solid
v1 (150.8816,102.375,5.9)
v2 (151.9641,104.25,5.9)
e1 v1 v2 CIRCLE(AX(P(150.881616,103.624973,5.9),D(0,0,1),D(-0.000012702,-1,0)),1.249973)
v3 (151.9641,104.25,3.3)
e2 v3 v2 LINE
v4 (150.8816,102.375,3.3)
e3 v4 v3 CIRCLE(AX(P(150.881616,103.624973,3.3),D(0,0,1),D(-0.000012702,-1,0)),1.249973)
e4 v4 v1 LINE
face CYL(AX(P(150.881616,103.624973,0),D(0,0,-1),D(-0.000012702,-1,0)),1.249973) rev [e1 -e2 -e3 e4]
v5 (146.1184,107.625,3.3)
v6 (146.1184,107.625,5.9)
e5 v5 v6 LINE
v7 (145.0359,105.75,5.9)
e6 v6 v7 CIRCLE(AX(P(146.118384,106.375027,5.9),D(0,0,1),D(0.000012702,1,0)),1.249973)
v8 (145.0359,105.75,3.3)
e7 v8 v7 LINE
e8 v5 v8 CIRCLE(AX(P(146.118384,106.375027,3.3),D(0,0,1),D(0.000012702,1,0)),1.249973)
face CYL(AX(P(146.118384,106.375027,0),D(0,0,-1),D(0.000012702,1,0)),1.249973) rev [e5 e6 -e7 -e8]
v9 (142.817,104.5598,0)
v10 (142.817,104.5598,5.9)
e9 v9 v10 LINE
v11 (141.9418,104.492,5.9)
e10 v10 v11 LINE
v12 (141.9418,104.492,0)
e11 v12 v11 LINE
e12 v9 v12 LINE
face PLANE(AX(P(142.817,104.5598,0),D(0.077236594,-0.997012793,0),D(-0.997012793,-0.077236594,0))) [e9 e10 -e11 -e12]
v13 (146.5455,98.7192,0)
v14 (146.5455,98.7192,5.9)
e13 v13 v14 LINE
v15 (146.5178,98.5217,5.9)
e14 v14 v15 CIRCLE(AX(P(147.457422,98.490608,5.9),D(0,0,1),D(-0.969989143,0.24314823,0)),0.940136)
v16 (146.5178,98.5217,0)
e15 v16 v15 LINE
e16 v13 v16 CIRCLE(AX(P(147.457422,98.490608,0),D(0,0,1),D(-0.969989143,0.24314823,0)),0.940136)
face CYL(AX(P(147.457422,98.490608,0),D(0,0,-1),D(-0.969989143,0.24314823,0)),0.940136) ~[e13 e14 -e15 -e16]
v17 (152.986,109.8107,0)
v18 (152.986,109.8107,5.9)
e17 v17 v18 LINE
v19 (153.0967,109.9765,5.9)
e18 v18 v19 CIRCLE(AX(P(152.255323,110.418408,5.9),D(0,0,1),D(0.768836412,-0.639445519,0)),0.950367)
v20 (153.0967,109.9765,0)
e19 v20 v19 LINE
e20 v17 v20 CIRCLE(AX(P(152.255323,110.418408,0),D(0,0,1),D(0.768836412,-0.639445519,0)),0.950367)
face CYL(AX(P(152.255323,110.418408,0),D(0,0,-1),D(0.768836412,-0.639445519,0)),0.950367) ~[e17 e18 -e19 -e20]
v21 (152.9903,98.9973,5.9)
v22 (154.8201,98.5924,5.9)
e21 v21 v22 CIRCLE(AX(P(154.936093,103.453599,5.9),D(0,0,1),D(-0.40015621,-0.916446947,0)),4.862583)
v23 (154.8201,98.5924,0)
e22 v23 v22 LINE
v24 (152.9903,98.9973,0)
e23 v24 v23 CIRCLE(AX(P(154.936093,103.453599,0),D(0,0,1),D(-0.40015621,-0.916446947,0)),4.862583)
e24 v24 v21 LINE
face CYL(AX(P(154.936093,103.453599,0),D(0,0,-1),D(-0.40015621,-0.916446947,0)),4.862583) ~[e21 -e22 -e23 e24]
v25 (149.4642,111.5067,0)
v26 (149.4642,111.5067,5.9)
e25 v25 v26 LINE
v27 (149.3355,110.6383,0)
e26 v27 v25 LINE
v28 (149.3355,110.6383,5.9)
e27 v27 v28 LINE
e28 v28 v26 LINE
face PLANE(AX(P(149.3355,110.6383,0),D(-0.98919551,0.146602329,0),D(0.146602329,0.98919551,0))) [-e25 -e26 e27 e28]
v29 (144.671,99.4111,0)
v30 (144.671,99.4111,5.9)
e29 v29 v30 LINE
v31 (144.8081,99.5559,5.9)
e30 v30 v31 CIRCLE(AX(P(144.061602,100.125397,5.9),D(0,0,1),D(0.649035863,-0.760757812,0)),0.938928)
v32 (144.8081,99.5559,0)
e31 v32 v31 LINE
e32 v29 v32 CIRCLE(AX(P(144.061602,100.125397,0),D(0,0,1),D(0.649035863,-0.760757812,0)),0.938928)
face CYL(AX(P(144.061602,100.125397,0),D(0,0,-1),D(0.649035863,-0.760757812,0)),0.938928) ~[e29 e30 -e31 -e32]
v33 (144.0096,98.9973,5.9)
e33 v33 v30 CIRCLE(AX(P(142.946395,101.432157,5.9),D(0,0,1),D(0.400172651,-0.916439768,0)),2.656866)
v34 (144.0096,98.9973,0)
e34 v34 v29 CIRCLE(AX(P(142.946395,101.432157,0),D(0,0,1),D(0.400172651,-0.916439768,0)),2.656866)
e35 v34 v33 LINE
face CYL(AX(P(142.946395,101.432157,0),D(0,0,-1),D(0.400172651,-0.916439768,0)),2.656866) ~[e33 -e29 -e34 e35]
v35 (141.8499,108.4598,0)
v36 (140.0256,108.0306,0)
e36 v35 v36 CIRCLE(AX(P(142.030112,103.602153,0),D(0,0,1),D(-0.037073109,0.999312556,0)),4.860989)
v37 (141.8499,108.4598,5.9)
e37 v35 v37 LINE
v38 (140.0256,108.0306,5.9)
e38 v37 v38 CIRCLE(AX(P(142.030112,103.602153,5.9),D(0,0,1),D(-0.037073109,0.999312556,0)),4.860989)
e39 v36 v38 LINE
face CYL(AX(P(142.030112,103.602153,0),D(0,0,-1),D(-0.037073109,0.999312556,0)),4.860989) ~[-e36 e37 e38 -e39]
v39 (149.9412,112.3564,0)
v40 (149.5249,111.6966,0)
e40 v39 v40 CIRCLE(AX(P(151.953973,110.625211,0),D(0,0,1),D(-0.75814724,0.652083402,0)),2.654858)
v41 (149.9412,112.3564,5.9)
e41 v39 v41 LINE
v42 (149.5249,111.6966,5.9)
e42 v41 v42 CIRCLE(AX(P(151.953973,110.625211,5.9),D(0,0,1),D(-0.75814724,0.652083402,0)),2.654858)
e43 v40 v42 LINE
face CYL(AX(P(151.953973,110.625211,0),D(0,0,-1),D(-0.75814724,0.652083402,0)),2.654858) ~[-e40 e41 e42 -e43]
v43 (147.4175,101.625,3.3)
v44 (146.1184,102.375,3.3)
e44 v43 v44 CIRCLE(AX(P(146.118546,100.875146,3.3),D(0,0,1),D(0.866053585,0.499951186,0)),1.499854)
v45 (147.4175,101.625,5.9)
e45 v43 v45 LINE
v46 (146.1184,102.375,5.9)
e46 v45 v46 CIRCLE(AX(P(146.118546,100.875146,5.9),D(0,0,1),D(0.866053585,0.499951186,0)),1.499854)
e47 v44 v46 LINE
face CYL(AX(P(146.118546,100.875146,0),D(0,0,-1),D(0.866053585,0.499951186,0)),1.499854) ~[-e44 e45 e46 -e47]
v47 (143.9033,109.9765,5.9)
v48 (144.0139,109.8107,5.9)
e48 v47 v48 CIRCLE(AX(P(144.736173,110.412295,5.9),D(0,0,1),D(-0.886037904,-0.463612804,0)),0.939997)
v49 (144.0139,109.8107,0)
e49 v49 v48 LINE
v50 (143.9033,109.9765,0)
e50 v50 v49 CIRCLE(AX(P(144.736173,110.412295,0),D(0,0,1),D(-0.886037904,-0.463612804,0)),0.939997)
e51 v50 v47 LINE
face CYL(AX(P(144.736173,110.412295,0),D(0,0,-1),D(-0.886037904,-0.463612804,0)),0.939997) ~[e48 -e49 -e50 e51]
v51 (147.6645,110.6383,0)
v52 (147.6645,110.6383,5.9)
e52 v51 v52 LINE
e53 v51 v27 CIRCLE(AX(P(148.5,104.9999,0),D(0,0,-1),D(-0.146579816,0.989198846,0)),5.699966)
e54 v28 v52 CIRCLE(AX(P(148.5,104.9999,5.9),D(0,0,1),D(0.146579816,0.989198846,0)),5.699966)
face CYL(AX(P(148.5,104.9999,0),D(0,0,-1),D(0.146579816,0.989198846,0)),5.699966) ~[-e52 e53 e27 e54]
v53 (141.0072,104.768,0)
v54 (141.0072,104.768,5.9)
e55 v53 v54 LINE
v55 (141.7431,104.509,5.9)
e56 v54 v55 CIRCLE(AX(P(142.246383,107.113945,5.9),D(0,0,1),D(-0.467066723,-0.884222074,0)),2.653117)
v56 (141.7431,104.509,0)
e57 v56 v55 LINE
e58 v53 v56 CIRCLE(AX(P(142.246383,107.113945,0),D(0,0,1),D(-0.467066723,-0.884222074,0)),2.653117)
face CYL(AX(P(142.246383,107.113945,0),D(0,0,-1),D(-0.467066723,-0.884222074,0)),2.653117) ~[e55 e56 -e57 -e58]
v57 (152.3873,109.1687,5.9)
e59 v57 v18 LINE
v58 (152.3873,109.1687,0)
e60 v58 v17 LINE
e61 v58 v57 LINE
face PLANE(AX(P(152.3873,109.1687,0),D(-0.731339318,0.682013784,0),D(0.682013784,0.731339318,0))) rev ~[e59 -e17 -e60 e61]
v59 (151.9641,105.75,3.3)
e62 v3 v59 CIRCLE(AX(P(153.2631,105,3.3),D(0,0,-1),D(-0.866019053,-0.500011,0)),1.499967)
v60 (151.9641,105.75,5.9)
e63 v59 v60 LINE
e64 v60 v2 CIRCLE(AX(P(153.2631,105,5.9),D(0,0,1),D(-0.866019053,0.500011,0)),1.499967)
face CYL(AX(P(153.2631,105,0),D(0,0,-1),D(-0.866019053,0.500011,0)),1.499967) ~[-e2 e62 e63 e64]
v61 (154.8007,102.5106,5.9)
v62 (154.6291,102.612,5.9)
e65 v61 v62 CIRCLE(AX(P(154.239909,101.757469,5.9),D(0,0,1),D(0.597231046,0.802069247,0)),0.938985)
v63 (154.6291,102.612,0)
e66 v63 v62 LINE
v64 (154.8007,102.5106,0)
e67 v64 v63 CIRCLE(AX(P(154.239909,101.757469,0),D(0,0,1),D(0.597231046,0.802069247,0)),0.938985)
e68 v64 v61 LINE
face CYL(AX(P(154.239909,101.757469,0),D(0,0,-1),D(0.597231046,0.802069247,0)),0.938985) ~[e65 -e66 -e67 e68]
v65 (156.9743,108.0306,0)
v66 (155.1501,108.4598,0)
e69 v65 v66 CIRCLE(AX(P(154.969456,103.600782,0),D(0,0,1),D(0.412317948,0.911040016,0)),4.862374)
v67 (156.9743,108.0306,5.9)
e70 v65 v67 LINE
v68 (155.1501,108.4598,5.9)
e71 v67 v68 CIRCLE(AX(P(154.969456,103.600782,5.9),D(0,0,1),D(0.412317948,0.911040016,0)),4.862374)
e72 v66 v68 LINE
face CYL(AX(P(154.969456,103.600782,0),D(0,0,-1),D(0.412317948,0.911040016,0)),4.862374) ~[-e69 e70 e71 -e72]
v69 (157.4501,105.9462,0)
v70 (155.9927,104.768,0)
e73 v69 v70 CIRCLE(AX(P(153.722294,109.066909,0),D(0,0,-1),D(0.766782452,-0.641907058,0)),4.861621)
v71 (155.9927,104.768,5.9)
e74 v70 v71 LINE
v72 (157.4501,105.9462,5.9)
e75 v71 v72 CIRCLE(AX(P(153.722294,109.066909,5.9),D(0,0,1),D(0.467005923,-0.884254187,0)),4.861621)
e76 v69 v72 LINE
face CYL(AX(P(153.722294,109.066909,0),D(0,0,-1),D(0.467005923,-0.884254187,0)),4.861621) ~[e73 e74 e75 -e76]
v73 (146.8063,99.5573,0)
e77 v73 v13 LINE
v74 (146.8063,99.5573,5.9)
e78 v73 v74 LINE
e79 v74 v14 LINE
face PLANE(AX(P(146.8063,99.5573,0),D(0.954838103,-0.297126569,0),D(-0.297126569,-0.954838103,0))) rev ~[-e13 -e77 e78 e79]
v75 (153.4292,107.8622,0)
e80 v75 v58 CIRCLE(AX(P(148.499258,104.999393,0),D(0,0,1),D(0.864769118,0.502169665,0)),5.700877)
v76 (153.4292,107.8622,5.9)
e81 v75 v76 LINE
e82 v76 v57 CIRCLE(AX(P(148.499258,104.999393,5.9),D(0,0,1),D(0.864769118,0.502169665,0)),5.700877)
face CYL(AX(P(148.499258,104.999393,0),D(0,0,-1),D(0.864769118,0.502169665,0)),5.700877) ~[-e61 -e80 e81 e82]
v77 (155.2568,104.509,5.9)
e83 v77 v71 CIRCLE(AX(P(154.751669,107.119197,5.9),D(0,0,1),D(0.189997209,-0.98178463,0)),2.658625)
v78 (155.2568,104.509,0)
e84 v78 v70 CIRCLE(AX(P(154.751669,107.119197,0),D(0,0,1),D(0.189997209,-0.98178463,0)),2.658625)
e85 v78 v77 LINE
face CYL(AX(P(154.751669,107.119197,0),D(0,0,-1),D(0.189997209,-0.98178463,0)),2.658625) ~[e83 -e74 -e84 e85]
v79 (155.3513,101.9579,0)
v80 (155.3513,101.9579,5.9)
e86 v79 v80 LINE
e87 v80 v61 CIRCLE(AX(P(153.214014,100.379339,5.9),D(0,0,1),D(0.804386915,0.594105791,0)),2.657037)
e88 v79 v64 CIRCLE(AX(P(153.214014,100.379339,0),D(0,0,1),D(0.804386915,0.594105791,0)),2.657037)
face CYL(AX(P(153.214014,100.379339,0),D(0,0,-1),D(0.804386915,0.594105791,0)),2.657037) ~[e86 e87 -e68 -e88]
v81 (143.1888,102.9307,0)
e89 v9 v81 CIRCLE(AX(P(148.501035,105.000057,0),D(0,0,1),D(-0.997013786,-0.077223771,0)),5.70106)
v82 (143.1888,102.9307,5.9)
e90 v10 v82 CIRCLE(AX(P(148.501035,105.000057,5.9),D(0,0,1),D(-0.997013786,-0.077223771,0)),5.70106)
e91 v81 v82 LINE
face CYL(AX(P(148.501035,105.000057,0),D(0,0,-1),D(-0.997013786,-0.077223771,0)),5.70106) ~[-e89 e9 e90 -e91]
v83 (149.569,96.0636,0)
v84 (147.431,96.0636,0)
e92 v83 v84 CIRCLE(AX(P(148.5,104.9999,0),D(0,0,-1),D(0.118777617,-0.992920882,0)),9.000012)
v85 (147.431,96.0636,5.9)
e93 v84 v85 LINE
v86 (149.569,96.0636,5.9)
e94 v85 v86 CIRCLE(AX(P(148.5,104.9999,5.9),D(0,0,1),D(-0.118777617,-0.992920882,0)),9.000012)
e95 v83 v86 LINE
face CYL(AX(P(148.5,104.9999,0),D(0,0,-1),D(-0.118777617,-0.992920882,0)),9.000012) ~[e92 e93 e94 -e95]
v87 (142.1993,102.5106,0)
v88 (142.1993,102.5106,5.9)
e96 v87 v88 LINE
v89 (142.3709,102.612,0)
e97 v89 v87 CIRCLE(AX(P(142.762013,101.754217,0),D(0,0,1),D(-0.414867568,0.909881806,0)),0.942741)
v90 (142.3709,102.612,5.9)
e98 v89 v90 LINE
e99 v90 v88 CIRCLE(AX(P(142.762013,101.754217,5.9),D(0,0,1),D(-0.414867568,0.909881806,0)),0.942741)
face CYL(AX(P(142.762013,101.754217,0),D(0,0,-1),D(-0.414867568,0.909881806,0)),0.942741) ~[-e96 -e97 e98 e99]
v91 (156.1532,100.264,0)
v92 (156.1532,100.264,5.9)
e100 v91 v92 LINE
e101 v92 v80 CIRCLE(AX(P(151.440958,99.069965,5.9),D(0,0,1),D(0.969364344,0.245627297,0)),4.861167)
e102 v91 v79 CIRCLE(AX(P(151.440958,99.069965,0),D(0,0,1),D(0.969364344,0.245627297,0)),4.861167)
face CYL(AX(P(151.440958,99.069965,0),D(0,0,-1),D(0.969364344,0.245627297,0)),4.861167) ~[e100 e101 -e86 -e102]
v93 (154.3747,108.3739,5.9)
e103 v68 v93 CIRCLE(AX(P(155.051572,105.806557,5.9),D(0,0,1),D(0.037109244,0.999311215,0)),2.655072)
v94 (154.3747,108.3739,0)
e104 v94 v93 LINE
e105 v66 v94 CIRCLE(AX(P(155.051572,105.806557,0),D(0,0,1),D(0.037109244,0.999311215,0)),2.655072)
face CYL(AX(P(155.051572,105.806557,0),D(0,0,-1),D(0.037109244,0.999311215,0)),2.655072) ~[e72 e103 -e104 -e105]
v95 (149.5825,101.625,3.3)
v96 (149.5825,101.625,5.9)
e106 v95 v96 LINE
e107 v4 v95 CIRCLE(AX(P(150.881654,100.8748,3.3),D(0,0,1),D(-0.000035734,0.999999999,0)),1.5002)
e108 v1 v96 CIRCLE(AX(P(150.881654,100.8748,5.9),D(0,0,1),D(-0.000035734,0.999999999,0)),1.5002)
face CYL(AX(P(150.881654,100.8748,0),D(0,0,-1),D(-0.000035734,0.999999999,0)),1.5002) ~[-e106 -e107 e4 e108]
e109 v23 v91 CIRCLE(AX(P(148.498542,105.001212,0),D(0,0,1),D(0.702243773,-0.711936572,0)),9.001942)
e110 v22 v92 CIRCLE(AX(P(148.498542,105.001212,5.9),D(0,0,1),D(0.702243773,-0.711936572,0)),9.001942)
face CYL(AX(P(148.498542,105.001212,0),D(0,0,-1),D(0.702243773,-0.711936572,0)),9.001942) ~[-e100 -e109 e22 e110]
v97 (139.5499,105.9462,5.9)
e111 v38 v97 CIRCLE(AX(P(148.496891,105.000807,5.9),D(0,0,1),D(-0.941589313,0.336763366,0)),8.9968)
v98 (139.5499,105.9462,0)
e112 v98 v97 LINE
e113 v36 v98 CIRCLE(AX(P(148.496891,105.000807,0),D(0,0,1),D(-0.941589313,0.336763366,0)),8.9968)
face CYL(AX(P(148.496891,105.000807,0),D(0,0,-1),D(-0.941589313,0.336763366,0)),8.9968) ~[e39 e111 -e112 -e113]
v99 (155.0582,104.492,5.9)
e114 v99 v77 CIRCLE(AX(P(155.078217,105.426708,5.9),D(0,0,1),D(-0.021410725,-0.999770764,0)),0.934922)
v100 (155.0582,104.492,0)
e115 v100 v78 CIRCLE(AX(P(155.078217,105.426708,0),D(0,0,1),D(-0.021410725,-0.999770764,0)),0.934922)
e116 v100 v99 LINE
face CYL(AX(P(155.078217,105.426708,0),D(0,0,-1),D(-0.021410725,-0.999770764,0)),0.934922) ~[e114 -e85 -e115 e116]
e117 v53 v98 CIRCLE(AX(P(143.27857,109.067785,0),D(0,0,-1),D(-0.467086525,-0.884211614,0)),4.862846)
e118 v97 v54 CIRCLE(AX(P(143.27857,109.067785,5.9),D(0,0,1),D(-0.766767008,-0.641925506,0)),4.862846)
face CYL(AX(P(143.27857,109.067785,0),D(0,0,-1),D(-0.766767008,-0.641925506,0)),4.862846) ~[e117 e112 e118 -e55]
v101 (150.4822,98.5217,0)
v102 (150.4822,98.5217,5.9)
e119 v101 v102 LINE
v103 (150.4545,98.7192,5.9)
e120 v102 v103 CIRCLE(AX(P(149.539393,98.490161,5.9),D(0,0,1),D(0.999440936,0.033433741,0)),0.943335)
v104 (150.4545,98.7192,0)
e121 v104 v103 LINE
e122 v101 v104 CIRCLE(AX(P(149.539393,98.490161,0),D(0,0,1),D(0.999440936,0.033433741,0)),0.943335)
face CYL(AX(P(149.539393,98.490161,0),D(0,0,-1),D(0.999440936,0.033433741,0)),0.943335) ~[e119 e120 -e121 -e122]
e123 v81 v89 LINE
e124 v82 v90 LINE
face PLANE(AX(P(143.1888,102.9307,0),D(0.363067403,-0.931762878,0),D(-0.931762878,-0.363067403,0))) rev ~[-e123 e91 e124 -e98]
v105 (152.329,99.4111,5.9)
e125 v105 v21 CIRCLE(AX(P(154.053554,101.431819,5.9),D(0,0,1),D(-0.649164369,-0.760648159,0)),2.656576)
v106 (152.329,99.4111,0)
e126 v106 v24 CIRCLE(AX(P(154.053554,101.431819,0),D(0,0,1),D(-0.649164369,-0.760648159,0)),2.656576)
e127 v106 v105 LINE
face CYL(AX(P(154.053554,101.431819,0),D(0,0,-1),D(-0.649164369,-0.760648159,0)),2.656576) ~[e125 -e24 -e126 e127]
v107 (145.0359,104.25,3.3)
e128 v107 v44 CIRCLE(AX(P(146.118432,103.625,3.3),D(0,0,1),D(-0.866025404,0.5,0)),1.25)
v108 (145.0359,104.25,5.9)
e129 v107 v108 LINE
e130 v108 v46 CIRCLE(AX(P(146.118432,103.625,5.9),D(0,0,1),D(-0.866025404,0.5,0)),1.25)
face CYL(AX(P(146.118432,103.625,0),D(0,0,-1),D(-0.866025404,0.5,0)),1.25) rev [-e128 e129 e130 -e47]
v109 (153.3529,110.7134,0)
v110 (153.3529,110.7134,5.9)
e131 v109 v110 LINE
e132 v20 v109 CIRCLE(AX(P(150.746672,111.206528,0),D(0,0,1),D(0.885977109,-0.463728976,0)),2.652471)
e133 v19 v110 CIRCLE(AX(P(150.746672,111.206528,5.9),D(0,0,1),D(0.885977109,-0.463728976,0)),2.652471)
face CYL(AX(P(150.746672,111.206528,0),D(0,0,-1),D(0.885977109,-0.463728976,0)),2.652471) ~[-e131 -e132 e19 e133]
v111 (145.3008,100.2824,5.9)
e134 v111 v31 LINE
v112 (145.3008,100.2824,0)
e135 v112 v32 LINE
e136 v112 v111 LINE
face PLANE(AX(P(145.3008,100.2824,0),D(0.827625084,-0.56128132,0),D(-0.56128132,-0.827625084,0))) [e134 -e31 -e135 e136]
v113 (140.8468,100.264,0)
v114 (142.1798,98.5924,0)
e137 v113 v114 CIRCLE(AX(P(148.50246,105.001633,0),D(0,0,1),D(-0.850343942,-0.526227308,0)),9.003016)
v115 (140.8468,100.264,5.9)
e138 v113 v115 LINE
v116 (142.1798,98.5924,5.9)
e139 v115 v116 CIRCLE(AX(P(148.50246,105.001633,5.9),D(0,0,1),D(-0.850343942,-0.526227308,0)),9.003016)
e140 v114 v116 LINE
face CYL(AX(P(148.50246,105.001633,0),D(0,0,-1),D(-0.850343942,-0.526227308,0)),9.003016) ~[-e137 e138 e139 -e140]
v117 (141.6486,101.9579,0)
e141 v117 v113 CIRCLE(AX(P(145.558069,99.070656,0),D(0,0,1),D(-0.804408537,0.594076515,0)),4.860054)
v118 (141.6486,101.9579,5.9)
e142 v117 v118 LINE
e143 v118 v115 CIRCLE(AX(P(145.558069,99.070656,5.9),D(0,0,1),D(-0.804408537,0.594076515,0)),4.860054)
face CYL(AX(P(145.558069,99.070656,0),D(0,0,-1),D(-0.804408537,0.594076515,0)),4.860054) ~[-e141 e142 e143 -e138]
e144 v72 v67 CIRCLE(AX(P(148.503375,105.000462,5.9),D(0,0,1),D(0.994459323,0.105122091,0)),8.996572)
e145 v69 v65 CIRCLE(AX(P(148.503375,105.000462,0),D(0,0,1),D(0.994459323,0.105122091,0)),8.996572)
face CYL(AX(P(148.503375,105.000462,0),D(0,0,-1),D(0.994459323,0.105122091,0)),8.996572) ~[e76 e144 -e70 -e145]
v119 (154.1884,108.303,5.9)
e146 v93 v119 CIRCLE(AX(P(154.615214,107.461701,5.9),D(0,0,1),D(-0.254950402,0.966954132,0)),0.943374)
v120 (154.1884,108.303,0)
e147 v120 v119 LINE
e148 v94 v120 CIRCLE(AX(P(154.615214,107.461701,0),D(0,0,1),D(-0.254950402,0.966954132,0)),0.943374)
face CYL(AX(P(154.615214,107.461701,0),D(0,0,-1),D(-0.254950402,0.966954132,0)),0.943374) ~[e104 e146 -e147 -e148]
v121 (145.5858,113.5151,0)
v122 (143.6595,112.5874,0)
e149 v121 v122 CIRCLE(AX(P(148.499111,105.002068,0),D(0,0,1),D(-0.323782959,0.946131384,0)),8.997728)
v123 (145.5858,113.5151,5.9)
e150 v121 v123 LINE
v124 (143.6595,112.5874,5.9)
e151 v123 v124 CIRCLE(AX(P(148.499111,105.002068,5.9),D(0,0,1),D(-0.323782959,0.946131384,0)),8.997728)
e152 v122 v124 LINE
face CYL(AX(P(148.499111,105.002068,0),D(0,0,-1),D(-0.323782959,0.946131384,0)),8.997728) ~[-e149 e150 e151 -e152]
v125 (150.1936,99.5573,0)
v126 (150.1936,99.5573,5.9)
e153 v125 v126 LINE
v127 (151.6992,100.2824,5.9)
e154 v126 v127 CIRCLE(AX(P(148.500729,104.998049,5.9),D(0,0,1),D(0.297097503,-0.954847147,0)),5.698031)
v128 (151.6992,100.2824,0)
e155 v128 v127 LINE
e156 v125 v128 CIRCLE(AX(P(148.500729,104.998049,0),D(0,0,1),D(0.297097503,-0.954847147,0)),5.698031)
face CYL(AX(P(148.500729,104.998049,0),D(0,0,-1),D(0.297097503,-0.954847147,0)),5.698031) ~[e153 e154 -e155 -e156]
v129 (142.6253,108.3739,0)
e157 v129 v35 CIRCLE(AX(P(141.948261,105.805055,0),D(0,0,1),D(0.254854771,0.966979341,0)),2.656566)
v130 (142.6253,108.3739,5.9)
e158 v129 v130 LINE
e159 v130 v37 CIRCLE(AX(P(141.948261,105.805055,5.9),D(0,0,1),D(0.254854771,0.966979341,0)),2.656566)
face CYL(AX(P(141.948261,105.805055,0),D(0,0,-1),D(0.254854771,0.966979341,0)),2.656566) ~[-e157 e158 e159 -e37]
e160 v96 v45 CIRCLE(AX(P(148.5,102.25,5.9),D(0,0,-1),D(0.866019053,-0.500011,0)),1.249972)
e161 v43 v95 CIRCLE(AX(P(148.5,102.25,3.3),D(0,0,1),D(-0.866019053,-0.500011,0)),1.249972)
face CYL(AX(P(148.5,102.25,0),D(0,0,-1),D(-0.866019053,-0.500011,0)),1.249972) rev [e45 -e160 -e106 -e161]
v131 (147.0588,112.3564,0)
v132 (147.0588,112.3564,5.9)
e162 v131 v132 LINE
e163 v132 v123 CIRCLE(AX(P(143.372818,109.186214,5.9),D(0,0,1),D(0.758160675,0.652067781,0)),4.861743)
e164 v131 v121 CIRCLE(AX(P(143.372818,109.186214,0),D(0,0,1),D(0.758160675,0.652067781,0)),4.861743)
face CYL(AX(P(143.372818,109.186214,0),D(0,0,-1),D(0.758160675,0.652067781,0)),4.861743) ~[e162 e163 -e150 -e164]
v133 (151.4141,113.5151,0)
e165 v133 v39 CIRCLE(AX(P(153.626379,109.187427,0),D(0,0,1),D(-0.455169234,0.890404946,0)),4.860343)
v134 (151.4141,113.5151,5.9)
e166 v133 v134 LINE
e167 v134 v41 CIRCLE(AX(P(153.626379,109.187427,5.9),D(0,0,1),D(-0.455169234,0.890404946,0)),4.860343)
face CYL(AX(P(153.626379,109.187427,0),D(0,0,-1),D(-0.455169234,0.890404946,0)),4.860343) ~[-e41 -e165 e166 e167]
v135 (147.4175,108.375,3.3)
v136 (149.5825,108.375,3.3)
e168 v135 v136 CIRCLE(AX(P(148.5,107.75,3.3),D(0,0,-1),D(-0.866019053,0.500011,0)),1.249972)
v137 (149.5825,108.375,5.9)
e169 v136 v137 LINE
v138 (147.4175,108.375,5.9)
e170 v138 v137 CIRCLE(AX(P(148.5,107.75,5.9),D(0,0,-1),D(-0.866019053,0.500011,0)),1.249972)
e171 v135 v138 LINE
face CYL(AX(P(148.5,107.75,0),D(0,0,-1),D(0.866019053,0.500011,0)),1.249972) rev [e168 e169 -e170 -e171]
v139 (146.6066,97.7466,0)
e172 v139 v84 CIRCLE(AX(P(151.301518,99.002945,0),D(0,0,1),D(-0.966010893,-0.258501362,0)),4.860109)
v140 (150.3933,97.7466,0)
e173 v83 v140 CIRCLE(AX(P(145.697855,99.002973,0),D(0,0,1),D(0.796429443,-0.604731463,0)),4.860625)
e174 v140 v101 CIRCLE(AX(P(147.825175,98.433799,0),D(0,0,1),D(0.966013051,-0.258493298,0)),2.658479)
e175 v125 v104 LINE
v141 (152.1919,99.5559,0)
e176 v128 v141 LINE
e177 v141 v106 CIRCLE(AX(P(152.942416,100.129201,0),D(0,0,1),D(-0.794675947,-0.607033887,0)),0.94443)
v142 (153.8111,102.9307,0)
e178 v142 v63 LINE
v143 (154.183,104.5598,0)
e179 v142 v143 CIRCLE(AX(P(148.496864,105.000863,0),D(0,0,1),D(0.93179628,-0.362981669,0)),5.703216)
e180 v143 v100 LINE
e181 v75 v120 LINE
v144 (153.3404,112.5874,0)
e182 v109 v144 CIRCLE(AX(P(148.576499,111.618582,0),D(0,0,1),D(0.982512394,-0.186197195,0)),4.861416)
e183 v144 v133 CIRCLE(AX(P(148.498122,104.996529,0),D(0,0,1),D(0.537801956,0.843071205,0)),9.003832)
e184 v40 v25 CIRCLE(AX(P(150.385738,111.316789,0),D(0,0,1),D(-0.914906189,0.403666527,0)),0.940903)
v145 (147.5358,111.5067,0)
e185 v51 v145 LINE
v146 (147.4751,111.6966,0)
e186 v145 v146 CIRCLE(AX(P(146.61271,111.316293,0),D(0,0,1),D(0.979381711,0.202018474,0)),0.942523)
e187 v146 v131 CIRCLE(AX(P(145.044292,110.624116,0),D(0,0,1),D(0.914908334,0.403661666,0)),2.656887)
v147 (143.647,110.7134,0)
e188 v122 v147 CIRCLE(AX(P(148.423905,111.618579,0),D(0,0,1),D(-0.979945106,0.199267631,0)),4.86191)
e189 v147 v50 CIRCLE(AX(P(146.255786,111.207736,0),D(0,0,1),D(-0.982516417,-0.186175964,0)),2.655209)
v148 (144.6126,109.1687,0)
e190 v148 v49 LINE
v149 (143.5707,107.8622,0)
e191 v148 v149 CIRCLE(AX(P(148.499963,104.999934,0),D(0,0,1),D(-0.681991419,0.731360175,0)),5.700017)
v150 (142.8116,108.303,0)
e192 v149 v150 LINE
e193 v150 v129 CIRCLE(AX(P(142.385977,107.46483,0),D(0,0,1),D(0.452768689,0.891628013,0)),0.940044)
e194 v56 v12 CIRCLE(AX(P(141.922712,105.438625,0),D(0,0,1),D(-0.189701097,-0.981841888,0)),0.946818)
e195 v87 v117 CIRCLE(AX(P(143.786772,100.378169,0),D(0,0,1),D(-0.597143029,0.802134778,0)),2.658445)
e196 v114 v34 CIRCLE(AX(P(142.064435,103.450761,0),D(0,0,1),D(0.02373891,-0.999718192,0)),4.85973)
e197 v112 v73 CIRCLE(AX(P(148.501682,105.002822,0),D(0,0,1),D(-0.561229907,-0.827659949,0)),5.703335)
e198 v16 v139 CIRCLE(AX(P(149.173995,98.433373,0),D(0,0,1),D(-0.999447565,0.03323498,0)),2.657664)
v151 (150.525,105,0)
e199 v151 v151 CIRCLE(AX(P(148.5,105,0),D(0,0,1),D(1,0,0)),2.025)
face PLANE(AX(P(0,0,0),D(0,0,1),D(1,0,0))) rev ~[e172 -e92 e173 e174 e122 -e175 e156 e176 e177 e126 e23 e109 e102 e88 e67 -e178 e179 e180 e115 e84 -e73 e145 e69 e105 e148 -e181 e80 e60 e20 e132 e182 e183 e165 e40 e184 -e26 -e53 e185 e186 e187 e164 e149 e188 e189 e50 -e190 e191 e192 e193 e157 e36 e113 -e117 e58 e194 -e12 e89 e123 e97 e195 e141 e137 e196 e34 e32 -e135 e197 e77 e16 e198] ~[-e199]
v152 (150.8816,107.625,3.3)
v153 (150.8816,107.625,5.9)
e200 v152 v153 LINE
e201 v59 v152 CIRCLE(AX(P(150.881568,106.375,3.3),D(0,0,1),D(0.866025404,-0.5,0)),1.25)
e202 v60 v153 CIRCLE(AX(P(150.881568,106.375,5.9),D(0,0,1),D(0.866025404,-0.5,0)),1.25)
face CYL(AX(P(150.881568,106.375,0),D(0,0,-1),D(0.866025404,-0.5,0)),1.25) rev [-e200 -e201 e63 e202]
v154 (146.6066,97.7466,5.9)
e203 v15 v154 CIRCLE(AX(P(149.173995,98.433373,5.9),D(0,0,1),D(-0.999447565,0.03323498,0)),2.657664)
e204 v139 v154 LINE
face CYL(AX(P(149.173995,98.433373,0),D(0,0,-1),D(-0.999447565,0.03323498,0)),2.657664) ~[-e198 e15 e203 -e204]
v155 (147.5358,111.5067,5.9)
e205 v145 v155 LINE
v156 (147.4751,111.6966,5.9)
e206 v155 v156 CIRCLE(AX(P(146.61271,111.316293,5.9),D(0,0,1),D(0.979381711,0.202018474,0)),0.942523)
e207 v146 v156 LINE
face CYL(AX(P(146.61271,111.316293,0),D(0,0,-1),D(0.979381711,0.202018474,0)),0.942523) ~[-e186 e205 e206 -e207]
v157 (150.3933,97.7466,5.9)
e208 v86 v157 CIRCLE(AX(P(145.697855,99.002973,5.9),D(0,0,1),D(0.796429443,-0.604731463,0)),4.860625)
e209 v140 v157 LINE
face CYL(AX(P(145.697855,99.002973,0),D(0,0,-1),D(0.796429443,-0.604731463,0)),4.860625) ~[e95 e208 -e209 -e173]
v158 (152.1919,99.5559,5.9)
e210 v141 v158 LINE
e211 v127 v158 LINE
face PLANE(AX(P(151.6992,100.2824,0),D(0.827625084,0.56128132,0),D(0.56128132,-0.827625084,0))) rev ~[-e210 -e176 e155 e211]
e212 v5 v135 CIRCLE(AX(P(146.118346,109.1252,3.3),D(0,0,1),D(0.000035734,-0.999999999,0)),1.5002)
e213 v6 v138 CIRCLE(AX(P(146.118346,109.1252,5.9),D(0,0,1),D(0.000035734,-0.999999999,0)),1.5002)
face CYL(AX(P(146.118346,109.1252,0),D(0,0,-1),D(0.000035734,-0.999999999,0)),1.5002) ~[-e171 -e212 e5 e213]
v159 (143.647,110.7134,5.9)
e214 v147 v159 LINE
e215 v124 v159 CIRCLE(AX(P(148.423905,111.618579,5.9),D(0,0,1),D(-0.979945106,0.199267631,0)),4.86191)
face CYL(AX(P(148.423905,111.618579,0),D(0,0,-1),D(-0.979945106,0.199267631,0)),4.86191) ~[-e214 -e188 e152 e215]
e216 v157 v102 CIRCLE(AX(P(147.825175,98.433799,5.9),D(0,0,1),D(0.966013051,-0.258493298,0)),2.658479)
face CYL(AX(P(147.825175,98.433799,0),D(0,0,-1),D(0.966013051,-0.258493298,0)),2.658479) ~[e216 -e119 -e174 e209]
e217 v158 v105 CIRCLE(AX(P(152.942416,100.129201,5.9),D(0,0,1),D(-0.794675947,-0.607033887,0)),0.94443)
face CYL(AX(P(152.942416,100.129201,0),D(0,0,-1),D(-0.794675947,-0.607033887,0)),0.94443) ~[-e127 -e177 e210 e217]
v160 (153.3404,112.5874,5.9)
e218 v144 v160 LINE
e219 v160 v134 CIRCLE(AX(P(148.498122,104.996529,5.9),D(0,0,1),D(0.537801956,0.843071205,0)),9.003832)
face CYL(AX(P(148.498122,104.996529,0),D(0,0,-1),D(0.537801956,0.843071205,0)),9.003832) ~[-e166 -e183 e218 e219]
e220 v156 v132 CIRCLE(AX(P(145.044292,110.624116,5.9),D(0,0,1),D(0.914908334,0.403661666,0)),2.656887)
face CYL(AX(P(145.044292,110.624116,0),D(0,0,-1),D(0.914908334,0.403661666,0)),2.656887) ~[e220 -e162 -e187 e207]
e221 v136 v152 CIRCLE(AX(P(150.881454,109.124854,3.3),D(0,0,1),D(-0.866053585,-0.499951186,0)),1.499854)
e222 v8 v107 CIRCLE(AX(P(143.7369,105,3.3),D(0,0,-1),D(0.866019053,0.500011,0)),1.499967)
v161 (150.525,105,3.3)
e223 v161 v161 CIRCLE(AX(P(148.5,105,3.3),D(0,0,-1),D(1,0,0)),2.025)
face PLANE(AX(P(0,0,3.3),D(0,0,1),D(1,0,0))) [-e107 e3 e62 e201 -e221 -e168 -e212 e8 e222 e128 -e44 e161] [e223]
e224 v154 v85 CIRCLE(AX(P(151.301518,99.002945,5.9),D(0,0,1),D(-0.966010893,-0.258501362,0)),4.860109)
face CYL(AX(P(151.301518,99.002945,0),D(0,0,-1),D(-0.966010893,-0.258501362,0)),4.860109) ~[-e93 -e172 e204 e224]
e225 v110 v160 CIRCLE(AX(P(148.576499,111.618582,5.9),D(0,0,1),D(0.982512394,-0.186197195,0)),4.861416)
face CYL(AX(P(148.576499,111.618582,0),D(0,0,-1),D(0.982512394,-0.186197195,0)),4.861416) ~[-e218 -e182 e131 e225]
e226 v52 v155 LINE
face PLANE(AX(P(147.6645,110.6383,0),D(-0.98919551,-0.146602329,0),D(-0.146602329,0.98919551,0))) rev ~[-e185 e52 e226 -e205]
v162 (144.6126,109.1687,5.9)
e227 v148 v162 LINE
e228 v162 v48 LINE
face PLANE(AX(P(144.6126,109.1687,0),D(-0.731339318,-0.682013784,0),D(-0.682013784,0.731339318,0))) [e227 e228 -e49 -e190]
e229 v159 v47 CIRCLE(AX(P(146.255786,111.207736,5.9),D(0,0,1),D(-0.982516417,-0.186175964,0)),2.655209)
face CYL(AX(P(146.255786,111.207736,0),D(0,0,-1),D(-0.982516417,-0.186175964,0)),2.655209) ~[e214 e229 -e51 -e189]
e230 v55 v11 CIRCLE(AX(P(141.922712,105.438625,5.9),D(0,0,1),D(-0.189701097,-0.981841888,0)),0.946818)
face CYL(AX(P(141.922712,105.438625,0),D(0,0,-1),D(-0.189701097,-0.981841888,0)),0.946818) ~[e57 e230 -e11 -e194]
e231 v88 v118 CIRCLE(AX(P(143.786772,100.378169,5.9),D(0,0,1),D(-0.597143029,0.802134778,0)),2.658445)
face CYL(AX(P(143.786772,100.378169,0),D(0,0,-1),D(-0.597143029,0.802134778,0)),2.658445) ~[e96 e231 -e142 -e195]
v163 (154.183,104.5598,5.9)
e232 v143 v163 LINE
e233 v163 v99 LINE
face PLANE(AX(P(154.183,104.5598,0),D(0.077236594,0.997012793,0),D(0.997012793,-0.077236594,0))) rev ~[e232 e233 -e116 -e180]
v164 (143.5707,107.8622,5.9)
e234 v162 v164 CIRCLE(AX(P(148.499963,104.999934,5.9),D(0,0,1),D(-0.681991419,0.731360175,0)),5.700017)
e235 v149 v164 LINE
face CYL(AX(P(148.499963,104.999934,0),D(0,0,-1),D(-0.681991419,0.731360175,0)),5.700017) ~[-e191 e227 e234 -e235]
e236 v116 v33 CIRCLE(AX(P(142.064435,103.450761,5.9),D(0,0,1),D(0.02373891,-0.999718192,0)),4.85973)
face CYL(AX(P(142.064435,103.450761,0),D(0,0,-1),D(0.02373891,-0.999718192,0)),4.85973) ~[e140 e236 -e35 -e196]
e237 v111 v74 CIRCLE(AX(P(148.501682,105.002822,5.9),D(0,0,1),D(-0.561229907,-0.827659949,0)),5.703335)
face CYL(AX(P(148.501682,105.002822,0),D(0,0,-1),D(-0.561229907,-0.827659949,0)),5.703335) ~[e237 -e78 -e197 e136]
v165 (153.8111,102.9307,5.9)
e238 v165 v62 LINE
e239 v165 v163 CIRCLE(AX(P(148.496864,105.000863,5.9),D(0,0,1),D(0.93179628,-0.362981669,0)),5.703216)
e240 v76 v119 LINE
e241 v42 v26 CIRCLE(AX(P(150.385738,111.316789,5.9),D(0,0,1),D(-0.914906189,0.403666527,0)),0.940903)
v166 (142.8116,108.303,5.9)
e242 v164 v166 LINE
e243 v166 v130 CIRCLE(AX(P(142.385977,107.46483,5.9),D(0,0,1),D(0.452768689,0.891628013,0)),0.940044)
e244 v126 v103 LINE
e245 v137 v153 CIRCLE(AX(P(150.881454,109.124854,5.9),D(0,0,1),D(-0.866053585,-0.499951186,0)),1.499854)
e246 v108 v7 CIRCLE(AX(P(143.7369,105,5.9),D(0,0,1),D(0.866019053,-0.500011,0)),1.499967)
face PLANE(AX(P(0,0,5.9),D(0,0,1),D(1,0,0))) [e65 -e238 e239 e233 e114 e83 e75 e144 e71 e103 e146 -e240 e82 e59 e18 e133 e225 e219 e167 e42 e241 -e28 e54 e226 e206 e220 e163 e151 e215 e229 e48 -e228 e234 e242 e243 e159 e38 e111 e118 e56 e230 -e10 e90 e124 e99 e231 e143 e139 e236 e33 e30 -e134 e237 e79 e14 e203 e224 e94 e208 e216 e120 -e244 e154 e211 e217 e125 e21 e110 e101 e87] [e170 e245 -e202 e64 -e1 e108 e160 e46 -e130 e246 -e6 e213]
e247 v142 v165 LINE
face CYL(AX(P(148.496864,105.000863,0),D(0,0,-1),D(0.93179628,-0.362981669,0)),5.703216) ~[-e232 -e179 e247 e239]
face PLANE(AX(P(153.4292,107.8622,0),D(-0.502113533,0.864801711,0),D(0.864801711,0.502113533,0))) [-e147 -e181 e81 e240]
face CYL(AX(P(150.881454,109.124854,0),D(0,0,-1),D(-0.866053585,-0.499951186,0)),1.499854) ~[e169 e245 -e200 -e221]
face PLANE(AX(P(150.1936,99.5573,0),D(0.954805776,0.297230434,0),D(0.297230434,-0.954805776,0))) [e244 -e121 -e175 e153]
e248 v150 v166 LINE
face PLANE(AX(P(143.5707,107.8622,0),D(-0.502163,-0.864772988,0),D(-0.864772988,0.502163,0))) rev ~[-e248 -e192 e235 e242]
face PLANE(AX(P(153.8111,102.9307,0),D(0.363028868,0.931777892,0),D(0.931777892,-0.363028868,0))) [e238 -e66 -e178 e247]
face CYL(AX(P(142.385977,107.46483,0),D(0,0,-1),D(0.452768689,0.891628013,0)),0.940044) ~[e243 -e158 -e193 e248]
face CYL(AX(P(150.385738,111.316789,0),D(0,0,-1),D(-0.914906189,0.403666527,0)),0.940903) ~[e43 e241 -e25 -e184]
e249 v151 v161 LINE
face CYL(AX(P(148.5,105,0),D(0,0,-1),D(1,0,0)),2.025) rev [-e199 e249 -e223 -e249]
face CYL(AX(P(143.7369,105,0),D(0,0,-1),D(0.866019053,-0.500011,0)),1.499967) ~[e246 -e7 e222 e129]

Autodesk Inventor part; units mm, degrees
ref_plane "YZ Plane" through (0, 0, 0) normal (1, 0, 0) x (0, 1, 0)
ref_plane "XZ Plane" through (0, 0, 0) normal (0, 1, 0) x (-1, 0, 0)
ref_plane "XY Plane" through (0, 0, 0) normal (0, 0, 1) x (1, 0, 0)
sketch "スケッチ1" plane through (0, 0, 0) normal (0, 0, 1) x (1, 0, 0)
  arc A0 (149.5249, 111.6966) -> (149.4642, 111.5067) centre (150.3865, 111.3165) ccw
  arc A1 (149.9412, 112.3564) -> (149.5249, 111.6966) centre (151.9548, 110.6246) ccw
  arc A2 (151.4141, 113.5151) -> (149.9412, 112.3564) centre (153.6271, 109.1863) ccw
  arc A3 (143.9033, 109.9765) -> (144.0139, 109.8107) centre (144.7377, 110.4132) ccw
  arc A4 (143.647, 110.7134) -> (143.9033, 109.9765) centre (146.2564, 111.2079) ccw
  arc A5 (143.6595, 112.5874) -> (143.647, 110.7134) centre (148.4237, 111.6186) ccw
  arc A6 (141.7431, 104.509) -> (141.9418, 104.492) centre (141.922, 105.4335) ccw
  arc A7 (141.0072, 104.768) -> (141.7431, 104.509) centre (142.2475, 107.1165) ccw
  arc A8 (139.5499, 105.9462) -> (141.0072, 104.768) centre (143.2777, 109.0669) ccw
  arc A9 (144.671, 99.4111) -> (144.8081, 99.5559) centre (144.0597, 100.1274) ccw
  arc A10 (144.0096, 98.9973) -> (144.671, 99.4111) centre (142.9469, 101.4312) ccw
  arc A11 (142.1798, 98.5924) -> (144.0096, 98.9973) centre (142.0642, 103.4527) ccw
  arc A12 (150.4822, 98.5217) -> (150.4545, 98.7192) centre (149.541, 98.4903) ccw
  arc A13 (150.3933, 97.7466) -> (150.4822, 98.5217) centre (147.8278, 98.4333) ccw
  arc A14 (149.569, 96.0636) -> (150.3933, 97.7466) centre (145.697, 99.0035) ccw
  arc A15 (154.8007, 102.5106) -> (154.6291, 102.612) centre (154.2384, 101.7552) ccw
  arc A16 (155.3513, 101.9579) -> (154.8007, 102.5106) centre (153.2149, 100.3801) ccw
  arc A17 (156.1532, 100.264) -> (155.3513, 101.9579) centre (151.4405, 99.0698) ccw
  arc A18 (154.3747, 108.3739) -> (154.1884, 108.303) centre (154.6147, 107.4633) ccw
  arc A19 (155.1501, 108.4598) -> (154.3747, 108.3739) centre (155.0516, 105.8058) ccw
  arc A20 (156.9743, 108.0306) -> (155.1501, 108.4598) centre (154.9697, 103.6015) ccw
  arc A21 (147.5358, 111.5067) -> (147.4751, 111.6966) centre (146.6135, 111.3165) ccw
  arc A22 (147.4751, 111.6966) -> (147.0588, 112.3564) centre (145.0452, 110.6246) ccw
  arc A23 (147.0588, 112.3564) -> (145.5858, 113.5151) centre (143.3729, 109.1863) ccw
  arc A24 (142.8116, 108.303) -> (142.6253, 108.3739) centre (142.3853, 107.4633) ccw
  arc A25 (142.6253, 108.3739) -> (141.8499, 108.4598) centre (141.9484, 105.8058) ccw
  arc A26 (141.8499, 108.4598) -> (140.0256, 108.0306) centre (142.0302, 103.6015) ccw
  arc A27 (142.3709, 102.612) -> (142.1993, 102.5106) centre (142.7615, 101.7552) ccw
  arc A28 (142.1993, 102.5106) -> (141.6486, 101.9579) centre (143.7851, 100.3801) ccw
  arc A29 (141.6486, 101.9579) -> (140.8468, 100.264) centre (145.5595, 99.0698) ccw
  arc A30 (146.5455, 98.7192) -> (146.5178, 98.5217) centre (147.459, 98.4903) ccw
  arc A31 (146.5178, 98.5217) -> (146.6066, 97.7466) centre (149.1722, 98.4333) ccw
  arc A32 (146.6066, 97.7466) -> (147.431, 96.0636) centre (151.303, 99.0035) ccw
  arc A33 (152.1919, 99.5559) -> (152.329, 99.4111) centre (152.9403, 100.1274) ccw
  arc A34 (152.329, 99.4111) -> (152.9903, 98.9973) centre (154.0531, 101.4312) ccw
  arc A35 (152.9903, 98.9973) -> (154.8201, 98.5924) centre (154.9358, 103.4527) ccw
  arc A36 (155.0582, 104.492) -> (155.2568, 104.509) centre (155.078, 105.4335) ccw
  arc A37 (155.2568, 104.509) -> (155.9927, 104.768) centre (154.7524, 107.1165) ccw
  arc A38 (155.9927, 104.768) -> (157.4501, 105.9462) centre (153.7223, 109.0669) ccw
  arc A39 (152.986, 109.8107) -> (153.0967, 109.9765) centre (152.2623, 110.4132) ccw
  arc A40 (153.0967, 109.9765) -> (153.3529, 110.7134) centre (150.7435, 111.2079) ccw
  arc A41 (153.3529, 110.7134) -> (153.3404, 112.5874) centre (148.5763, 111.6186) ccw
  arc A42 (149.3355, 110.6383) -> (147.6645, 110.6383) centre (148.5, 104.9999) ccw
  arc A43 (144.6126, 109.1687) -> (143.5707, 107.8622) centre (148.5, 104.9999) ccw
  arc A44 (142.817, 104.5598) -> (143.1888, 102.9307) centre (148.5, 104.9999) ccw
  arc A45 (145.3008, 100.2824) -> (146.8063, 99.5573) centre (148.5, 104.9999) ccw
  arc A46 (150.1936, 99.5573) -> (151.6992, 100.2824) centre (148.5, 104.9999) ccw
  arc A47 (153.8111, 102.9307) -> (154.183, 104.5598) centre (148.5, 104.9999) ccw
  arc A48 (153.4292, 107.8622) -> (152.3873, 109.1687) centre (148.5, 104.9999) ccw
  arc A49 (145.5858, 113.5151) -> (143.6595, 112.5874) centre (148.5, 104.9999) ccw
  arc A50 (140.0256, 108.0306) -> (139.5499, 105.9462) centre (148.5, 104.9999) ccw
  arc A51 (140.8468, 100.264) -> (142.1798, 98.5924) centre (148.5, 104.9999) ccw
  arc A52 (147.431, 96.0636) -> (149.569, 96.0636) centre (148.5, 104.9999) ccw
  arc A53 (154.8201, 98.5924) -> (156.1532, 100.264) centre (148.5, 104.9999) ccw
  arc A54 (157.4501, 105.9462) -> (156.9743, 108.0306) centre (148.5, 104.9999) ccw
  arc A55 (153.3404, 112.5874) -> (151.4141, 113.5151) centre (148.5, 104.9999) ccw
  line L0 (149.3355, 110.6383) -> (149.4642, 111.5067)
  line L1 (144.6126, 109.1687) -> (144.0139, 109.8107)
  line L2 (142.817, 104.5598) -> (141.9418, 104.492)
  line L3 (145.3008, 100.2824) -> (144.8081, 99.5559)
  line L4 (150.1936, 99.5573) -> (150.4545, 98.7192)
  line L5 (153.8111, 102.9307) -> (154.6291, 102.612)
  line L6 (153.4292, 107.8622) -> (154.1884, 108.303)
  line L7 (147.6645, 110.6383) -> (147.5358, 111.5067)
  line L8 (143.5707, 107.8622) -> (142.8116, 108.303)
  line L9 (143.1888, 102.9307) -> (142.3709, 102.612)
  line L10 (146.8063, 99.5573) -> (146.5455, 98.7192)
  line L11 (151.6992, 100.2824) -> (152.1919, 99.5559)
  line L12 (154.183, 104.5598) -> (155.0582, 104.492)
  line L13 (152.3873, 109.1687) -> (152.986, 109.8107)
  line L14 (137.5, 105) -> (159.5, 105)
  line L15 (148.5, 94) -> (148.5, 116)
  line L16 (177.5, 113.9999) -> (247.5, 113.9999)
  line L17 (177.5, 105.9999) -> (247.5, 105.9999)
  line L18 (177.5, 97.9999) -> (247.5, 97.9999)
  line L19 (177.5, 89.9999) -> (247.5, 89.9999)
  line L20 (177.5, 81.9999) -> (247.5, 81.9999)
  line L21 (177.5, 73.9999) -> (247.5, 73.9999)
  line L22 (177.5, 65.9999) -> (247.5, 65.9999)
  line L23 (177.5, 57.9999) -> (247.5, 57.9999)
  line L24 (177.5, 49.9999) -> (247.5, 49.9999)
  line L25 (177.5, 41.9999) -> (247.5, 41.9999)
  line L26 (177.5, 33.9999) -> (247.5, 33.9999)
  line L27 (177.5, 25.9999) -> (247.5, 25.9999)
  line L28 (177.5, 17.9999) -> (247.5, 17.9999)
  line L29 (177.5, 113.9999) -> (177.5, 17.9999)
  line L30 (247.5, 113.9999) -> (247.5, 17.9999)
  line L31 (212.5, 105.9999) -> (212.5, 17.9999)
  arc A56 (151.9641, 105.75) -> (150.8816, 107.625) centre (150.8816, 106.375) ccw
  arc A57 (151.9641, 105.75) -> (151.9641, 104.25) centre (153.2631, 105) ccw
  arc A58 (150.8816, 102.375) -> (151.9641, 104.25) centre (150.8816, 103.625) ccw
  arc A59 (147.4175, 101.625) -> (149.5825, 101.625) centre (148.5, 102.25) ccw
  arc A60 (150.8816, 102.375) -> (149.5825, 101.625) centre (150.8816, 100.875) ccw
  arc A61 (147.4175, 101.625) -> (146.1184, 102.375) centre (146.1184, 100.875) ccw
  arc A62 (146.1184, 107.625) -> (145.0359, 105.75) centre (146.1184, 106.375) ccw
  arc A63 (146.1184, 107.625) -> (147.4175, 108.375) centre (146.1184, 109.125) ccw
  line L32 (145.0359, 107) -> (148.5, 109) construction
  circle A64 centre (148.5, 105) radius 5 construction
  arc A65 (149.5825, 108.375) -> (147.4175, 108.375) centre (148.5, 107.75) ccw
  arc A66 (145.0359, 104.25) -> (145.0359, 105.75) centre (143.7369, 105) ccw
  arc A67 (149.5825, 108.375) -> (150.8816, 107.625) centre (150.8816, 109.125) ccw
  line L33 (145.0359, 103) -> (145.0359, 107) construction
  arc A68 (145.0359, 104.25) -> (146.1184, 102.375) centre (146.1184, 103.625) ccw
  line L34 (148.5, 109) -> (151.9641, 107) construction
  line L35 (148.5, 101) -> (145.0359, 103) construction
  circle A69 centre (148.5, 105) radius 4 construction
  circle A70 centre (148.5, 105) radius 3.2631 construction
  line L36 (151.9641, 103) -> (148.5, 101) construction
  line L37 (151.9641, 107) -> (151.9641, 103) construction
  circle A71 centre (148.5, 105) radius 2.025
  point P0 (0, 0)
  point P1 (183.5, 108)
  point P2 (186, 100)
  point P3 (186, 92)
  point P4 (183.5, 84)
  point P5 (186, 76)
  point P6 (181, 68)
  point P7 (183.5, 60)
  point P8 (183.5, 52)
  point P9 (183.5, 44)
  point P10 (186, 36)
  point P11 (186, 28)
  point P12 (183.5, 20)
  point P13 (213.5, 100)
  point P14 (229.75, 92)
  point P15 (229.75, 84)
  point P16 (226, 76)
  point P17 (228.5, 68)
  point P18 (222.25, 60)
  point P19 (228.5, 52)
  point P20 (226, 44)
  point P21 (223.5, 36)
  point P22 (231, 28)
  point P23 (231, 20)
  point P24 (149.5, 129.5)
  point P25 (149.5, 123.5)
  point P26 (166.75, 129.5)
  point P27 (168.875, 123.5)
  point P28 (151.9641, 107)
  point P29 (151.9641, 103)
  point P30 (148.5, 101)
  point P31 (145.0359, 103)
  point P32 (151.9641, 105.75)
  point P33 (151.9641, 104.25)
  point P34 (150.8816, 102.375)
  point P35 (149.5825, 101.625)
  point P36 (147.4175, 101.625)
  point P37 (146.1184, 102.375)
  point P38 (145.0359, 104.25)
  point P39 (145.0359, 105.75)
  point P40 (146.1184, 107.625)
  dimension "d5" = 8
  dimension "d4" = 10
  dimension "d6" = 360
  dimension "d7" = 360
  dimension "d8" = 6.5263
  dimension "d9" = 1.5
  dimension "d10" = 1.25
  dimension "d11" = 4.05
extrude "押し出し1" add sketch "スケッチ1" along normal blind 5.9 contours A1 A2 A55 A41 A40 A39 L13 A48 L6 A18 A19 A20 A54 A38 L14 A57 A56 A67 A65 L15 A42 L0 A0 | L15 A65 A63 A62 A66 L14 A8 A50 A26 A25 A24 L8 A43 L1 A3 A4 A5 A49 A23 A22 A21 L7 A42 | L14 A38 A37 A36 L12 A47 L5 A15 A16 A17 A53 A35 A34 A33 L11 A46 L4 A12 A13 A14 A52 L15 A59 A60 A58 A57 | A66 A68 A61 A59 L15 A52 A32 A31 A30 L10 A45 L3 A9 A10 A11 A51 A29 A28 A27 L9 A44 L2 A6 A7 A8 L14
extrude "押し出し2" add sketch "スケッチ1" along normal blind 3.3 contours A65 A67 A56 A57 L14 A71 L15 | L15 A71 L14 A66 A62 A63 A65 | L14 A57 A58 A60 A59 L15 A71 | A71 L15 A59 A61 A68 A66 L14
properties part number "m2z7" material "アルミニウム 2014-T4"
